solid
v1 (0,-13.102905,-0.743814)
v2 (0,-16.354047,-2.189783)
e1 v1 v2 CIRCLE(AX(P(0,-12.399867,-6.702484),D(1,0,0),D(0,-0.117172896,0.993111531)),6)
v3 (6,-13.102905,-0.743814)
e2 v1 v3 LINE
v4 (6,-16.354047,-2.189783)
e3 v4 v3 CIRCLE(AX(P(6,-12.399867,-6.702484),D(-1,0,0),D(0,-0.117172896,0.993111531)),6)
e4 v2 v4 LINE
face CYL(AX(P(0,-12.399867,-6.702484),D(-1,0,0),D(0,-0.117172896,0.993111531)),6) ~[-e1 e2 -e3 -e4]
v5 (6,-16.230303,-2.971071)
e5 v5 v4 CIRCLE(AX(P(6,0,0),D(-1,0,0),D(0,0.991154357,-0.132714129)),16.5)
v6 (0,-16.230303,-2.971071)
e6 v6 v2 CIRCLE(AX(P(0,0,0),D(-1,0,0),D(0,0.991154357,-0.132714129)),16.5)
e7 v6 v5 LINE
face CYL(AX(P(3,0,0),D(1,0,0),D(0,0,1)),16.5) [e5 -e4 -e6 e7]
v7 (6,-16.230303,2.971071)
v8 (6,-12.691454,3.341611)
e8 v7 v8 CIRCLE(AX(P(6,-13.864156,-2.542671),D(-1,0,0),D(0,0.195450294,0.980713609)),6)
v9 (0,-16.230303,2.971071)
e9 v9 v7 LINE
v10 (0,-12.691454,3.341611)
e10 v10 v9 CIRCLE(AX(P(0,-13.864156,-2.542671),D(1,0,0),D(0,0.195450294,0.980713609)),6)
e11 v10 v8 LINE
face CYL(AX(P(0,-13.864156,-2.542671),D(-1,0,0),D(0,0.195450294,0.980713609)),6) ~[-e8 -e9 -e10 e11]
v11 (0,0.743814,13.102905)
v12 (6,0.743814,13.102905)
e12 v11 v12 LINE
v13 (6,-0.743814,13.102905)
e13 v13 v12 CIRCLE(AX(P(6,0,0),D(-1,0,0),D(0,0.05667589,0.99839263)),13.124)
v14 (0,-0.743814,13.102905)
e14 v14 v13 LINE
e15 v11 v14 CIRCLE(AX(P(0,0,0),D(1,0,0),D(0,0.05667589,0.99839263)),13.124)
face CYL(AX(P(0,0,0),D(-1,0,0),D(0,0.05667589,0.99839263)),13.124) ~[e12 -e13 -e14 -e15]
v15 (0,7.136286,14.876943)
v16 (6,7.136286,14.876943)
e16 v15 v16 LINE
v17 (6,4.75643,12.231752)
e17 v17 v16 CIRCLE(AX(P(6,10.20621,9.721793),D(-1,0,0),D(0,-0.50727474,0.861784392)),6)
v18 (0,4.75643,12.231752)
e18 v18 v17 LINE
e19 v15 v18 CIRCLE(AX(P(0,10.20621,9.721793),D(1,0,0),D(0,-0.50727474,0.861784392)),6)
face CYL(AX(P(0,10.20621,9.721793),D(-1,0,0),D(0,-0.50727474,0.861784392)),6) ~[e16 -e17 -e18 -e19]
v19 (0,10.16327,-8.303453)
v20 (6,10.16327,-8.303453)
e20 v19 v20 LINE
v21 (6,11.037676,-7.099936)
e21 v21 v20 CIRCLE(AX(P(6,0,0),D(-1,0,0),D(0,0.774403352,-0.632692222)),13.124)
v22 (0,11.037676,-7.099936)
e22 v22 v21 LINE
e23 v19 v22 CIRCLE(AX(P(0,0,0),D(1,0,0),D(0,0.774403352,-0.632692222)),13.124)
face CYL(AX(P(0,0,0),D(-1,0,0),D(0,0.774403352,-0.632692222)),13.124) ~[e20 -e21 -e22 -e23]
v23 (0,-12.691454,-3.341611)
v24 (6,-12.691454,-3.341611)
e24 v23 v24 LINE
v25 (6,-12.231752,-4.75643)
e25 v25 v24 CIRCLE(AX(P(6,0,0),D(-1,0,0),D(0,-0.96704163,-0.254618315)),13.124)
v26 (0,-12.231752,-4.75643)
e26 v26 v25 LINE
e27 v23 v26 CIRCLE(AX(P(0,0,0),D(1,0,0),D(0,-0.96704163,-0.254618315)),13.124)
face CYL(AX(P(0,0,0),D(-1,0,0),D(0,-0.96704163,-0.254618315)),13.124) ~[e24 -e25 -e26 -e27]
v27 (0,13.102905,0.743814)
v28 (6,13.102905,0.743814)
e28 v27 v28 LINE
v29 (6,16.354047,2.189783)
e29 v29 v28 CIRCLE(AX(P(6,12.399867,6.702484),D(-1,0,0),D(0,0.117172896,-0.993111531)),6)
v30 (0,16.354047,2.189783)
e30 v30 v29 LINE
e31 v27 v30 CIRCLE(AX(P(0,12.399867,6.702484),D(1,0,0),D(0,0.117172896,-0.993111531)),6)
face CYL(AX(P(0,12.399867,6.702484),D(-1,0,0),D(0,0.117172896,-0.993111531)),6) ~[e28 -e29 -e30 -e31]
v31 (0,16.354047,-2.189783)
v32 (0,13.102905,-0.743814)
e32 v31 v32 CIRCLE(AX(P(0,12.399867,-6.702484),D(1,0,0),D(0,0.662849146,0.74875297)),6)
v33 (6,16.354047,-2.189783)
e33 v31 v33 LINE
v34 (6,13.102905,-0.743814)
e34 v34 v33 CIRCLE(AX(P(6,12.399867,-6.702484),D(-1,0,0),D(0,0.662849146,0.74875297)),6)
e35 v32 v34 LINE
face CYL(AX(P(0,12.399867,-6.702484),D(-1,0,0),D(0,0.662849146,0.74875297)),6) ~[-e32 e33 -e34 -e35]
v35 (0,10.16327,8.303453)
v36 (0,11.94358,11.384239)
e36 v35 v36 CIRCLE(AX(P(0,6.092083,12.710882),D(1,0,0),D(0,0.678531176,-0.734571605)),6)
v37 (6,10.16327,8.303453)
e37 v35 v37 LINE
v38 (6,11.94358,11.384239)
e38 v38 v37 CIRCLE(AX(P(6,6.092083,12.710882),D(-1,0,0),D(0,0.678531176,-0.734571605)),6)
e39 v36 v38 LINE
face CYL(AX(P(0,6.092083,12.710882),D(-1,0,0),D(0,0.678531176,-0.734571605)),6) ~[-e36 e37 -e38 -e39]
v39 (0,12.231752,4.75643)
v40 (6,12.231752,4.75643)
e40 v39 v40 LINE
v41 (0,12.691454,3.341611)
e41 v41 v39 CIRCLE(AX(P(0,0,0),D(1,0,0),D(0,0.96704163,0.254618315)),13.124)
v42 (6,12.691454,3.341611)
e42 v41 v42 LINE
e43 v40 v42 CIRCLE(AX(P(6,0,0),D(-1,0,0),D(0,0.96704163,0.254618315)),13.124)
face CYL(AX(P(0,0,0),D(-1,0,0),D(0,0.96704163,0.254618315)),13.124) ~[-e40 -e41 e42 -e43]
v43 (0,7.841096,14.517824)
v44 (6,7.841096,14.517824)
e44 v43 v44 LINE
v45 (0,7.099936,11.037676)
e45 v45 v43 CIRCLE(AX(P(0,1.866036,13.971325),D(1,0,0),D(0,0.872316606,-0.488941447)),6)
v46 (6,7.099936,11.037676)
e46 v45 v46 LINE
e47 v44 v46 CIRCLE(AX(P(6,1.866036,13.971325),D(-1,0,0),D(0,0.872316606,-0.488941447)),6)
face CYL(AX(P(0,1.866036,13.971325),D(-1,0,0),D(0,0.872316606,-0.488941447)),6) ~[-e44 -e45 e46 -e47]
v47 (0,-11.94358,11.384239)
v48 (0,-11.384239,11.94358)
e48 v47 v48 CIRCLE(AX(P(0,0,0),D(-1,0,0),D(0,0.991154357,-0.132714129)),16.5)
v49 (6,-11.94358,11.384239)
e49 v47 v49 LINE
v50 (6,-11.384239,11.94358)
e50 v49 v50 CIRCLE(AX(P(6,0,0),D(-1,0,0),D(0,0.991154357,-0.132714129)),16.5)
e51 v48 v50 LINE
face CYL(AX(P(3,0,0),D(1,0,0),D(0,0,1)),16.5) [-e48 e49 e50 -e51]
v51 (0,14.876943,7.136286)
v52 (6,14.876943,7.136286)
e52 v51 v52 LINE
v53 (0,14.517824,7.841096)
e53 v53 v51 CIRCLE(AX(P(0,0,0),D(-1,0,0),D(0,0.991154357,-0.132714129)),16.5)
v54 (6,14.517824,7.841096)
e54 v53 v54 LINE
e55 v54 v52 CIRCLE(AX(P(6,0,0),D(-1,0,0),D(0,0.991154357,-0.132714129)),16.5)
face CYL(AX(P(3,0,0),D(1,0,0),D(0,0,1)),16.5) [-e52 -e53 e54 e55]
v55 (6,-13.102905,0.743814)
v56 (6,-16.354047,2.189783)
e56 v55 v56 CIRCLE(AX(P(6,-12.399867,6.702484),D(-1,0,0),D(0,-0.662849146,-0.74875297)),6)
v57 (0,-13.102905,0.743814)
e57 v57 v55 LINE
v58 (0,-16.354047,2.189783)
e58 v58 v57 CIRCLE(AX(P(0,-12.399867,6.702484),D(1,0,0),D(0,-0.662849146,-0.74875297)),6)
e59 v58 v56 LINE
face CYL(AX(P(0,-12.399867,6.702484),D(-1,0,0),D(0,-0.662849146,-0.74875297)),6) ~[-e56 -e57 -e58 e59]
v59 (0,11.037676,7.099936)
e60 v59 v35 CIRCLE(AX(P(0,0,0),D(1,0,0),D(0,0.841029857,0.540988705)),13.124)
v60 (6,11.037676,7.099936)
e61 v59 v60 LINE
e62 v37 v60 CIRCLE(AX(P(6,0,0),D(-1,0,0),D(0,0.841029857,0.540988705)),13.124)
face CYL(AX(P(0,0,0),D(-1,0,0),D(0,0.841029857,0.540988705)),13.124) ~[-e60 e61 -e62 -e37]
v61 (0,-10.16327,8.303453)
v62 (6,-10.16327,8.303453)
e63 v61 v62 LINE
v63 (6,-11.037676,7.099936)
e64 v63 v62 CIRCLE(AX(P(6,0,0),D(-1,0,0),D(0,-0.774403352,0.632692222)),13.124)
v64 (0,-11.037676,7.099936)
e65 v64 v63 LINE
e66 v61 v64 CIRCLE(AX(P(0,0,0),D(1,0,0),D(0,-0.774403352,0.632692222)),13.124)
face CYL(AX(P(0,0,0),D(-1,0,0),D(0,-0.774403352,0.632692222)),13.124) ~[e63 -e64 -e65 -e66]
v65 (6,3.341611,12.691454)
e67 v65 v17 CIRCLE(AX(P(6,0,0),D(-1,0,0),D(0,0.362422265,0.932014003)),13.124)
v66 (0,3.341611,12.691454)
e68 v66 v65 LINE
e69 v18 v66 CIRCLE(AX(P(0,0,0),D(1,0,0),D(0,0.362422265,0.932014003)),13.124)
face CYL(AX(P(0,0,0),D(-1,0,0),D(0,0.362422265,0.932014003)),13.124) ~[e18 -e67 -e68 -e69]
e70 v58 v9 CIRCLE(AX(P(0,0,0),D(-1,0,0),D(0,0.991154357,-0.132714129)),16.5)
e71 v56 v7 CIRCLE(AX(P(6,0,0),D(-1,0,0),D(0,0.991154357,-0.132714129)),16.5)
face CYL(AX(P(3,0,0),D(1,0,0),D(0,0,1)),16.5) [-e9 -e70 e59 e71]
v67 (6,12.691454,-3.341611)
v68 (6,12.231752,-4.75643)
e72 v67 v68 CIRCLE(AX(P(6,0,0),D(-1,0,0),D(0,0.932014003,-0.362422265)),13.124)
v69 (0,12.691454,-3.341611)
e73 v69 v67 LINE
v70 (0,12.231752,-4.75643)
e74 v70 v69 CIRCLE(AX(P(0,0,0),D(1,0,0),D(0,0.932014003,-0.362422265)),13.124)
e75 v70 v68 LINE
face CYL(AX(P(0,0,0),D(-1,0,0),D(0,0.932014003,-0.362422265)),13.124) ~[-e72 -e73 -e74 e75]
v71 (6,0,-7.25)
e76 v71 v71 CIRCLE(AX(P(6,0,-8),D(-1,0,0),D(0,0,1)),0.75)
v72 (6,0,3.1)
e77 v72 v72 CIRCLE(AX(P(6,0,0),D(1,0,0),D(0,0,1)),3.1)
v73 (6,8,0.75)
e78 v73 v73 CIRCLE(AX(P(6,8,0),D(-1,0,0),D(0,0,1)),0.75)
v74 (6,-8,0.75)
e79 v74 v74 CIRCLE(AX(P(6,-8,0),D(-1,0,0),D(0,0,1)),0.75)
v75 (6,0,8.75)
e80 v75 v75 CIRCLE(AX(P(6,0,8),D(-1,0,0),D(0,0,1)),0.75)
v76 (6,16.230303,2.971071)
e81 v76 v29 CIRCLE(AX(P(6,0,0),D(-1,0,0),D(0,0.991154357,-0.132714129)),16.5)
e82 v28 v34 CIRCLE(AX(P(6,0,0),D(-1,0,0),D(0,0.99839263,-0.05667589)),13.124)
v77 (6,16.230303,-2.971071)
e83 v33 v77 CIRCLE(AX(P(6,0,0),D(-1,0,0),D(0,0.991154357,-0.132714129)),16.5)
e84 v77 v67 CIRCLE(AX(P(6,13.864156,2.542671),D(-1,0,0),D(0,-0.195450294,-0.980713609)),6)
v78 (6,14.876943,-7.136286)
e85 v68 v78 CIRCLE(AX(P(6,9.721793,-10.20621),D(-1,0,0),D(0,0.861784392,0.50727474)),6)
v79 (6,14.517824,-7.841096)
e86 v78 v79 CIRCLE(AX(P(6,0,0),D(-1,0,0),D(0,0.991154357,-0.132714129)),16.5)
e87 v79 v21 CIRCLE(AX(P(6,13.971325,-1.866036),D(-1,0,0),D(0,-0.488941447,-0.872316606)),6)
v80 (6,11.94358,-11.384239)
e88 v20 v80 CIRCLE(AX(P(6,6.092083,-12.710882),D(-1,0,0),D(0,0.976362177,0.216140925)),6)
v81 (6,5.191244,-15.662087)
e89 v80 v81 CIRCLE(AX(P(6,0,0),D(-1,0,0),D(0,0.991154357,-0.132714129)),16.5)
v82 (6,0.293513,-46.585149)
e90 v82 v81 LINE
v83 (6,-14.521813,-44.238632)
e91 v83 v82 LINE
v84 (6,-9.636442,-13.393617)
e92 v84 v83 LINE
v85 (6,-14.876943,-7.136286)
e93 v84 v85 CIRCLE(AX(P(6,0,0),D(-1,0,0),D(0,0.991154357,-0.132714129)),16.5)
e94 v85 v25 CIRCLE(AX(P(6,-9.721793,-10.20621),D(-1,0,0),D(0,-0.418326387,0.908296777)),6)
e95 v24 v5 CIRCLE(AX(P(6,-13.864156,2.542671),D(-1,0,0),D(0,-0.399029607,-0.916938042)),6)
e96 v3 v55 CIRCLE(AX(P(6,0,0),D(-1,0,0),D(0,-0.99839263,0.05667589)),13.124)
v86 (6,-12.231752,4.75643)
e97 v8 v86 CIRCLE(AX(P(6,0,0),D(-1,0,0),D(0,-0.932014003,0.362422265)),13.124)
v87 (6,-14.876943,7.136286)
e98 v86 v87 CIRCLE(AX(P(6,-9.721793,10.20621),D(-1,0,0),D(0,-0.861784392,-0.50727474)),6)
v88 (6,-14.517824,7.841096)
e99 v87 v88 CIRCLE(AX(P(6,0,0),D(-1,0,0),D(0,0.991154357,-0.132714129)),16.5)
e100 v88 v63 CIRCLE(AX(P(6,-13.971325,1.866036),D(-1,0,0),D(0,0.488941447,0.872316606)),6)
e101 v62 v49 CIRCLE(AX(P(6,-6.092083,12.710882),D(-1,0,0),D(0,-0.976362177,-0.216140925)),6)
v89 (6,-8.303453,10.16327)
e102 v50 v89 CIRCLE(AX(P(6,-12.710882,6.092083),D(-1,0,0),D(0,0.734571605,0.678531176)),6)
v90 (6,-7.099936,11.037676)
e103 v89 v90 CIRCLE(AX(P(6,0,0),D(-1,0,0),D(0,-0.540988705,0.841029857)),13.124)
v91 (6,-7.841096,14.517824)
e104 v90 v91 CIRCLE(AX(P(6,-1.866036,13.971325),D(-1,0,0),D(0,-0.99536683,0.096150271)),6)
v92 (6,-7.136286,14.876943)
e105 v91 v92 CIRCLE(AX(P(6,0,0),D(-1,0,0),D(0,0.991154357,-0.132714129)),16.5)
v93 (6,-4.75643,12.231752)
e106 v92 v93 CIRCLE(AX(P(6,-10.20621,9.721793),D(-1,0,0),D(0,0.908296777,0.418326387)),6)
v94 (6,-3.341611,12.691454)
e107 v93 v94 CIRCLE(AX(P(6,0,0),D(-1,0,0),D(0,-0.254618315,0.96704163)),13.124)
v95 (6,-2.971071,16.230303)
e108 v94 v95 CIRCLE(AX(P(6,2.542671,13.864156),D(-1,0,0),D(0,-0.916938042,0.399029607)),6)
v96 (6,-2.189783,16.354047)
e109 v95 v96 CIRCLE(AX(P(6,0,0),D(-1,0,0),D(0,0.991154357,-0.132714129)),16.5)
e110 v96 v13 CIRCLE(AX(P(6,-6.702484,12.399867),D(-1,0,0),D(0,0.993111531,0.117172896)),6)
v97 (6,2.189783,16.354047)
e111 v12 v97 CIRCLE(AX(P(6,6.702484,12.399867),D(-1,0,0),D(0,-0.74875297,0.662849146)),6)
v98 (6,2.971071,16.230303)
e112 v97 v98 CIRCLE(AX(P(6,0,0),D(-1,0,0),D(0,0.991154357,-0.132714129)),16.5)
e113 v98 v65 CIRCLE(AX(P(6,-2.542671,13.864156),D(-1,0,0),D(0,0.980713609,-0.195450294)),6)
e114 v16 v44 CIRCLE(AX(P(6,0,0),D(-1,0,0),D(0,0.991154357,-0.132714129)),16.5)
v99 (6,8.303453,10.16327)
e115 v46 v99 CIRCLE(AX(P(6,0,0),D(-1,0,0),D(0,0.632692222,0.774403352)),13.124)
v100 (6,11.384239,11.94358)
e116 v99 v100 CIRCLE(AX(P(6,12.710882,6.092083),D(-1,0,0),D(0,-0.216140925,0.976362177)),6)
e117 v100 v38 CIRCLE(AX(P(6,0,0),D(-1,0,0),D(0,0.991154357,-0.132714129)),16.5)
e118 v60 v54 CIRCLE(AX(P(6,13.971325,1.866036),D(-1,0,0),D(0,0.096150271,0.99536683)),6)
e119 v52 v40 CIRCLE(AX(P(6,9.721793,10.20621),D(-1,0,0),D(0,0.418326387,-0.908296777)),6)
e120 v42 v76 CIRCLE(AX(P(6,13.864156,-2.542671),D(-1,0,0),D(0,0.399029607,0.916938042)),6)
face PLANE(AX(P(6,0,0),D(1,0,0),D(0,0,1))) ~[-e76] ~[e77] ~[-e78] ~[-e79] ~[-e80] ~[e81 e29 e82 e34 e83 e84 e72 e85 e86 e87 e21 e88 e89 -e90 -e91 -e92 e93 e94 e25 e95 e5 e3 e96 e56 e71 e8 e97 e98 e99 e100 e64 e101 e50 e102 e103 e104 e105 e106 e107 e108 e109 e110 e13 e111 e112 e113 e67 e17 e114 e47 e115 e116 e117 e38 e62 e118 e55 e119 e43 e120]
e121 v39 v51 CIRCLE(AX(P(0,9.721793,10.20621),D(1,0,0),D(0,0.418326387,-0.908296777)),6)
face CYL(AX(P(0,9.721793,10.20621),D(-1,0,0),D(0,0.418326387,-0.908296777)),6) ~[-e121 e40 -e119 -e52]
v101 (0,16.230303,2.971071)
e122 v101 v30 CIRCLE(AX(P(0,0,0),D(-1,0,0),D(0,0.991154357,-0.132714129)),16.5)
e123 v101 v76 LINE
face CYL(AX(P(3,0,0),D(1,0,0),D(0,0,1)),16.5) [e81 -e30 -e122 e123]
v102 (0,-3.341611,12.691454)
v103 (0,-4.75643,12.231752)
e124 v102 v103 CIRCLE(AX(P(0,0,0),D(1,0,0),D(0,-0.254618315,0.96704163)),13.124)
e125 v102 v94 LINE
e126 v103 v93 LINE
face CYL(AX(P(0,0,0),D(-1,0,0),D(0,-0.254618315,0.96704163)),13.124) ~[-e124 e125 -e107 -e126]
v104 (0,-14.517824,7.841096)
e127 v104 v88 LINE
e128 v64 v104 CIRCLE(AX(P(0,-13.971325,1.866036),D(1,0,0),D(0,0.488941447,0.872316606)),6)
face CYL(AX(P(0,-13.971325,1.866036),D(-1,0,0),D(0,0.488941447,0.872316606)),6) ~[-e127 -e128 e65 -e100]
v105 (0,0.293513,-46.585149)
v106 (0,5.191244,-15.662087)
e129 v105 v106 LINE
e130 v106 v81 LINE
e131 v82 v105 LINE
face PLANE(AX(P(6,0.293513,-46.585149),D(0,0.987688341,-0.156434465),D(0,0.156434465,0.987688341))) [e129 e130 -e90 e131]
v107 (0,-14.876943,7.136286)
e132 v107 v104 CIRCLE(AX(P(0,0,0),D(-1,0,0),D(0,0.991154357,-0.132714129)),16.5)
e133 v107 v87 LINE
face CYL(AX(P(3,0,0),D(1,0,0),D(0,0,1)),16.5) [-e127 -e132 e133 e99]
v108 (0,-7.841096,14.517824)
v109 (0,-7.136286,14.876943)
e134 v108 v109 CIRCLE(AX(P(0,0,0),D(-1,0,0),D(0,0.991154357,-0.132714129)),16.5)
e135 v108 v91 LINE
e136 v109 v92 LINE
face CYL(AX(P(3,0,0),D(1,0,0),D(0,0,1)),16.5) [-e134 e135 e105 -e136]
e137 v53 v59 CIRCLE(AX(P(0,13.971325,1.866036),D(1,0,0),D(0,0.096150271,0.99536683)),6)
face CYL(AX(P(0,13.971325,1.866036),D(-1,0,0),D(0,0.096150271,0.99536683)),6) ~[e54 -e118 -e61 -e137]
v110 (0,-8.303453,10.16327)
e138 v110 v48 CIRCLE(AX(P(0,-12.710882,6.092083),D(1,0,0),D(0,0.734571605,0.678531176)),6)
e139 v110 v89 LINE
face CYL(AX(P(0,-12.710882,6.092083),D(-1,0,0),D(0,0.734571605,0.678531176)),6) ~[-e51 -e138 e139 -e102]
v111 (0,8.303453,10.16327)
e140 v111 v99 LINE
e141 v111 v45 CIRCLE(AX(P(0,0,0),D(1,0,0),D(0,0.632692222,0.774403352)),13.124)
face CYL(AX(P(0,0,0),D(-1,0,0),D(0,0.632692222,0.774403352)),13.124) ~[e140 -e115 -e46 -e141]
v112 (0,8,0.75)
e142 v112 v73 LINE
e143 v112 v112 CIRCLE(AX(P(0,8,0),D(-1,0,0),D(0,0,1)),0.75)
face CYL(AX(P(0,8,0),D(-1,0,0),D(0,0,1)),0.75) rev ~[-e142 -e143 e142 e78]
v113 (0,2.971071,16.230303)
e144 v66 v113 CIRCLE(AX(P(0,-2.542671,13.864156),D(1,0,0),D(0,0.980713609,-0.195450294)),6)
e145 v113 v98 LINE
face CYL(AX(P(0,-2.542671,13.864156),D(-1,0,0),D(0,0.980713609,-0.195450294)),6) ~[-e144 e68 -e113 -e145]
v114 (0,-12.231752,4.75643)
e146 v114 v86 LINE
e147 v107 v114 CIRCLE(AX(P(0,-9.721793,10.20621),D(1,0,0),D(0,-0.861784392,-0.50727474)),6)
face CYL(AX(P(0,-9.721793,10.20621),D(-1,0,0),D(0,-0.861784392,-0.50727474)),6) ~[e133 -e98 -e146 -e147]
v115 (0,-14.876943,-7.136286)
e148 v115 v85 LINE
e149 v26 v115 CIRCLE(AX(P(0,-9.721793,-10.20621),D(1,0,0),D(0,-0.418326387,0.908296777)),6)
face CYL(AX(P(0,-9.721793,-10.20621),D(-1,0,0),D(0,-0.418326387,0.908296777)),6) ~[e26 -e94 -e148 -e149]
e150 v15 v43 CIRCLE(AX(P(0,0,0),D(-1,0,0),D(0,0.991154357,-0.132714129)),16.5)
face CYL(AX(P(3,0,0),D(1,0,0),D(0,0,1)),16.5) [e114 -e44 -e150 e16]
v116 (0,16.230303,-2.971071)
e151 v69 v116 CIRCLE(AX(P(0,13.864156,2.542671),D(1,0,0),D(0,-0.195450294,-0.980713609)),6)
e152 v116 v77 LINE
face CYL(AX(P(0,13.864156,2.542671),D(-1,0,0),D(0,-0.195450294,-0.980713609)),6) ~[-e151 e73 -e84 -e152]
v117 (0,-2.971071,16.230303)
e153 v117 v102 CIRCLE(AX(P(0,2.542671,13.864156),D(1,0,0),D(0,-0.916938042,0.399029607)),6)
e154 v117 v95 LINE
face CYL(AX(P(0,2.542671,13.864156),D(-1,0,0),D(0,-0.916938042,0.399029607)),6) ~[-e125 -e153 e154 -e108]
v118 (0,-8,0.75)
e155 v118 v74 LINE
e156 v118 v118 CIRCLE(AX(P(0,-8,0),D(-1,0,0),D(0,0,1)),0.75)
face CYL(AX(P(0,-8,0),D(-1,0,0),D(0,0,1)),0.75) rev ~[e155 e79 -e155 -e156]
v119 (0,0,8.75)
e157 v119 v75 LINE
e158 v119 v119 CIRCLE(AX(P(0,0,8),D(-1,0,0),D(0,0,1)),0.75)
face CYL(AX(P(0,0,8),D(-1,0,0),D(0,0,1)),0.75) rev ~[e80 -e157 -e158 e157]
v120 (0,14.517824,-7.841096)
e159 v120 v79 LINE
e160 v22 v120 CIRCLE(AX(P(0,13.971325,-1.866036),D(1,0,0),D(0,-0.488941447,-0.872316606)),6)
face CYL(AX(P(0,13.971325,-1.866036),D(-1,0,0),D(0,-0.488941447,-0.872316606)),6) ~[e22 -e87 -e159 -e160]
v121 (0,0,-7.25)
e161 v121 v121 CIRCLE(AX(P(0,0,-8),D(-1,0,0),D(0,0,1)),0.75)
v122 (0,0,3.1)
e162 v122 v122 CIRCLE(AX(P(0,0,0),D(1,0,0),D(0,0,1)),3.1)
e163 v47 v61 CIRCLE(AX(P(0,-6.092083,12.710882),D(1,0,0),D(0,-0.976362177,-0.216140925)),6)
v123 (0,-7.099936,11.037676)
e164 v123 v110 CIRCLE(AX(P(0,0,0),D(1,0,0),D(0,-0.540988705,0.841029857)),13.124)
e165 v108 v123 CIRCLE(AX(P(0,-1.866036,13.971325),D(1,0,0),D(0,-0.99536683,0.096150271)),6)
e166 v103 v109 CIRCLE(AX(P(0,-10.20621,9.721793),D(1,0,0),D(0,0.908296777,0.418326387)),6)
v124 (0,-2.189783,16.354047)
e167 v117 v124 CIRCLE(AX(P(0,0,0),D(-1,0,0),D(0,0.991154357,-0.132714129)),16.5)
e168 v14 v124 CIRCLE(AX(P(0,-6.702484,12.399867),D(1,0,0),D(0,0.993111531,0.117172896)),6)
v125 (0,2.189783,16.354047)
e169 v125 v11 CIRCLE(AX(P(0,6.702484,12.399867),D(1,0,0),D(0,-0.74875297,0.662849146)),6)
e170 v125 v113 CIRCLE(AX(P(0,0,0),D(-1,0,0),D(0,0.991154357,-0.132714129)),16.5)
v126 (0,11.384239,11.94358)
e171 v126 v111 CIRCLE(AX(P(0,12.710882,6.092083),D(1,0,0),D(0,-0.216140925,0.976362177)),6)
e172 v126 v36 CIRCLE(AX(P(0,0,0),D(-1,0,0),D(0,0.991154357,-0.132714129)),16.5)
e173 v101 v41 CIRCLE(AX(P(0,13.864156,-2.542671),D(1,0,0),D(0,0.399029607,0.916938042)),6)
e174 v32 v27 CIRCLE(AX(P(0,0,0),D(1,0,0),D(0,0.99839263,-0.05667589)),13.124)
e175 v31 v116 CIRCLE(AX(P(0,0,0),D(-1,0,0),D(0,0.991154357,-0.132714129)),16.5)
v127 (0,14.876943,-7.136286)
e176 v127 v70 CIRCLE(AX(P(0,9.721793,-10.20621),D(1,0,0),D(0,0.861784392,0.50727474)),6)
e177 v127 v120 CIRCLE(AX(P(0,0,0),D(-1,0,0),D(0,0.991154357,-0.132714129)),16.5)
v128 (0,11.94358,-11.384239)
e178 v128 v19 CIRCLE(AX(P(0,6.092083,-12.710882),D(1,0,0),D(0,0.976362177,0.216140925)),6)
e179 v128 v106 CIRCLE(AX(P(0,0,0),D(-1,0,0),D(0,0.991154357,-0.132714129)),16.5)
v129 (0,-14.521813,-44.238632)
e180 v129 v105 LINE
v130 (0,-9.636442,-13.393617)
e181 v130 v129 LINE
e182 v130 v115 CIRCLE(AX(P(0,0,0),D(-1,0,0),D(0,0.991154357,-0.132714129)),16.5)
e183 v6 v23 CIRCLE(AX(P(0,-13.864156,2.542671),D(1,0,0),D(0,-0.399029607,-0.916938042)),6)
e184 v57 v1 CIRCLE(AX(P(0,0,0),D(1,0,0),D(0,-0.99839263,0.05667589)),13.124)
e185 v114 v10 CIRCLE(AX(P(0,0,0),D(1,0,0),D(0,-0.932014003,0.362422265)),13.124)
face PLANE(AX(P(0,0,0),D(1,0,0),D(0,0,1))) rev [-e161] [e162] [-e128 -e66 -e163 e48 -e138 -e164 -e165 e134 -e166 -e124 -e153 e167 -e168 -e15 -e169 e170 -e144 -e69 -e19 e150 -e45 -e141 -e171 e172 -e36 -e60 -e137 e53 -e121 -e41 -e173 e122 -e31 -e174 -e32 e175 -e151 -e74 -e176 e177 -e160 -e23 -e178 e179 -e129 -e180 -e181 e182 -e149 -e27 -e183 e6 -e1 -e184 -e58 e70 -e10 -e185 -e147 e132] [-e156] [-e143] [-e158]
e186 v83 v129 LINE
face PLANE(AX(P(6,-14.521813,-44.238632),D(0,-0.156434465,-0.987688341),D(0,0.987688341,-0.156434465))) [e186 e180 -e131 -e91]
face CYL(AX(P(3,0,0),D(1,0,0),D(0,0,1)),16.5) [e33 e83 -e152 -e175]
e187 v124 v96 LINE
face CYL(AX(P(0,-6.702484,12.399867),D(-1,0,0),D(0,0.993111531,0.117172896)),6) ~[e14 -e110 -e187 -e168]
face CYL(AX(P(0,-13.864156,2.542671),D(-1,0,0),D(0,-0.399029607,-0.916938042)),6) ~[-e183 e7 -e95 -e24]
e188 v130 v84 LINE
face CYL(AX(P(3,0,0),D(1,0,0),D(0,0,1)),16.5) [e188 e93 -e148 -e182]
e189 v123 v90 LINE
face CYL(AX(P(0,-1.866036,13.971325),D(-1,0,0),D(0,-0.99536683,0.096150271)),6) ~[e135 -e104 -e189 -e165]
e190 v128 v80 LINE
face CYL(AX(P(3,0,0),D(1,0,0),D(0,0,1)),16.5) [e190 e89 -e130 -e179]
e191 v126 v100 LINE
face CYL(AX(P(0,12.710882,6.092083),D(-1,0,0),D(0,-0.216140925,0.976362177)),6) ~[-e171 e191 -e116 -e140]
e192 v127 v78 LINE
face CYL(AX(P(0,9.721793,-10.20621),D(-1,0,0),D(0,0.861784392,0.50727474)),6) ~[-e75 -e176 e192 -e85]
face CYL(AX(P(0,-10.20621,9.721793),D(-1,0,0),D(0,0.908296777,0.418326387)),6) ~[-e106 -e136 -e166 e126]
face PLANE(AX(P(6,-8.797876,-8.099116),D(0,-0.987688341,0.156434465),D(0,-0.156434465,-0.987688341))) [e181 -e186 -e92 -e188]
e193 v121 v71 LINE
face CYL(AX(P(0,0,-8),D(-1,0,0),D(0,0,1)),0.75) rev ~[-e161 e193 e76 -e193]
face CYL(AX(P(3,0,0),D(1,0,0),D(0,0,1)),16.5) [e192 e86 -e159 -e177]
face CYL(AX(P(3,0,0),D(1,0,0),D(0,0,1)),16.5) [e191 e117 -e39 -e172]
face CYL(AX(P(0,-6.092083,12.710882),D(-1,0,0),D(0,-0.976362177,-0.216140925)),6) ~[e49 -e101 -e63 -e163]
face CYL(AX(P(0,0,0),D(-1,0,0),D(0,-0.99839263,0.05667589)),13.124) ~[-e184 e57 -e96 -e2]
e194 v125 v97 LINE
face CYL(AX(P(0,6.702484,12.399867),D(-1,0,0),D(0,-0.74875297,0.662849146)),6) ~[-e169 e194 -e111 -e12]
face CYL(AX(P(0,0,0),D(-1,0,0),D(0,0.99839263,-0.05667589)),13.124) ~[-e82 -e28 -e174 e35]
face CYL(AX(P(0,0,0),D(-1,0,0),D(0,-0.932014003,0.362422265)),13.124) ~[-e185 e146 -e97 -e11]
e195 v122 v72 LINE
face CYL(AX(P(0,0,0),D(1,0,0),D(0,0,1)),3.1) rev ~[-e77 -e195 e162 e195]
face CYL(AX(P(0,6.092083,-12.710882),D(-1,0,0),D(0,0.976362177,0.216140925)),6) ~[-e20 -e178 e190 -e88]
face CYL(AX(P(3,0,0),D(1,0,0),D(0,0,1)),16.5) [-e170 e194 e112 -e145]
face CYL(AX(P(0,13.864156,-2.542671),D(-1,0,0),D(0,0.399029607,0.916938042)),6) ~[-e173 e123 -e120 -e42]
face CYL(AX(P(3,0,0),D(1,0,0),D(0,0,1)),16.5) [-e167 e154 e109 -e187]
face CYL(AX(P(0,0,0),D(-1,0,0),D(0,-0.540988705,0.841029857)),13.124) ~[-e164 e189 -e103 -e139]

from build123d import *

# Parameters (mm, degrees)
BASPROSKE_W             = 6
BASPROSKE_H             = 16.5
TOOTHCUT_DEPTH          = 25.093567606
TEETHCUTS_COUNT         = 20
TEETHCUTS_ANGLE         = 342
BORSKE_R                = 3.1
BORE_DEPTH              = 50.0000508
BOSS_EXTRU_1_DEPTH      = 6
ESQUISSE3_R             = 0.75
ENL_V_MAT_EXTRU_1_DEPTH = 6


with BuildPart() as part:
    # BasProSke → Base-Revolve (revolve)
    with BuildSketch(Plane(origin=(0, 0, 0), x_dir=(1, 0, 0), z_dir=(0, 1, 0)), mode=Mode.PRIVATE) as base_revolve_sk:
        with Locations((3, 8.25)):
            Rectangle(BASPROSKE_W, BASPROSKE_H)
    revolve(base_revolve_sk.sketch.rotate(Axis((-10, 0, 0), (1, 0, 0)), 180), axis=Axis((-10, 0, 0), (1, 0, 0)))

    # TooCutSke → ToothCut (cut, through all)
    with BuildSketch(Plane(origin=(0, 0, 0), x_dir=(0, 0, -1), z_dir=(1, 0, 0))):
        with BuildLine():
            ThreePointArc((0.74381438, 13.102904875), (0, 13.124), (-0.74381438, 13.102904875))
            ThreePointArc((-0.74381438, 13.102904875), (-1.226473103, 14.852072512), (-2.209965745, 16.376962373))
            ThreePointArc((-2.209965745, 16.376962373), (0, 16.5254), (2.209965745, 16.376962373))
            ThreePointArc((2.209965745, 16.376962373), (1.226473103, 14.852072512), (0.74381438, 13.102904875))
        make_face()
    toothcut = extrude(amount=TOOTHCUT_DEPTH, mode=Mode.SUBTRACT)

    # TeethCuts: ToothCut ×20 about axis, 6 skipped
    teethcuts_axis = Axis((-10, 0, 0), (1, 0, 0))
    add([toothcut.rotate(teethcuts_axis, i * TEETHCUTS_ANGLE / (TEETHCUTS_COUNT - 1)) for i in range(1, TEETHCUTS_COUNT) if i not in (12, 13, 14, 15, 16, 17)], mode=Mode.SUBTRACT)

    # BorSke → Bore (cut, symmetric)
    with BuildSketch(Plane(origin=(0, 0, 0), x_dir=(0, 0, -1), z_dir=(1, 0, 0))):
        with Locations(Location((0, 0, 0), (0, 0, 180))):
            Circle(BORSKE_R)
    extrude(amount=BORE_DEPTH, both=True, mode=Mode.SUBTRACT)

    # Esquisse2 → Boss.-Extru.1 (add)
    with BuildSketch(Plane(origin=(6, 0, 0), x_dir=(0, 0, -1), z_dir=(1, 0, 0))):
        Polygon((10.44563255, 6.017449598), (8.099115574, -8.797875511), (44.238631957, -14.521812587), (46.585148932, 0.293512522), align=None)
    extrude(amount=-BOSS_EXTRU_1_DEPTH)

    # Esquisse3 → Enlèv. mat.-Extru.1 (cut)
    with BuildSketch(Plane.ZY):
        with Locations((8, 0)):
            Circle(ESQUISSE3_R)
        with Locations((-8, 0)):
            Circle(ESQUISSE3_R)
        with Locations((0, 8)):
            Circle(ESQUISSE3_R)
        with Locations((0, -8)):
            Circle(ESQUISSE3_R)
    extrude(amount=-ENL_V_MAT_EXTRU_1_DEPTH, mode=Mode.SUBTRACT)


solid = part.part
